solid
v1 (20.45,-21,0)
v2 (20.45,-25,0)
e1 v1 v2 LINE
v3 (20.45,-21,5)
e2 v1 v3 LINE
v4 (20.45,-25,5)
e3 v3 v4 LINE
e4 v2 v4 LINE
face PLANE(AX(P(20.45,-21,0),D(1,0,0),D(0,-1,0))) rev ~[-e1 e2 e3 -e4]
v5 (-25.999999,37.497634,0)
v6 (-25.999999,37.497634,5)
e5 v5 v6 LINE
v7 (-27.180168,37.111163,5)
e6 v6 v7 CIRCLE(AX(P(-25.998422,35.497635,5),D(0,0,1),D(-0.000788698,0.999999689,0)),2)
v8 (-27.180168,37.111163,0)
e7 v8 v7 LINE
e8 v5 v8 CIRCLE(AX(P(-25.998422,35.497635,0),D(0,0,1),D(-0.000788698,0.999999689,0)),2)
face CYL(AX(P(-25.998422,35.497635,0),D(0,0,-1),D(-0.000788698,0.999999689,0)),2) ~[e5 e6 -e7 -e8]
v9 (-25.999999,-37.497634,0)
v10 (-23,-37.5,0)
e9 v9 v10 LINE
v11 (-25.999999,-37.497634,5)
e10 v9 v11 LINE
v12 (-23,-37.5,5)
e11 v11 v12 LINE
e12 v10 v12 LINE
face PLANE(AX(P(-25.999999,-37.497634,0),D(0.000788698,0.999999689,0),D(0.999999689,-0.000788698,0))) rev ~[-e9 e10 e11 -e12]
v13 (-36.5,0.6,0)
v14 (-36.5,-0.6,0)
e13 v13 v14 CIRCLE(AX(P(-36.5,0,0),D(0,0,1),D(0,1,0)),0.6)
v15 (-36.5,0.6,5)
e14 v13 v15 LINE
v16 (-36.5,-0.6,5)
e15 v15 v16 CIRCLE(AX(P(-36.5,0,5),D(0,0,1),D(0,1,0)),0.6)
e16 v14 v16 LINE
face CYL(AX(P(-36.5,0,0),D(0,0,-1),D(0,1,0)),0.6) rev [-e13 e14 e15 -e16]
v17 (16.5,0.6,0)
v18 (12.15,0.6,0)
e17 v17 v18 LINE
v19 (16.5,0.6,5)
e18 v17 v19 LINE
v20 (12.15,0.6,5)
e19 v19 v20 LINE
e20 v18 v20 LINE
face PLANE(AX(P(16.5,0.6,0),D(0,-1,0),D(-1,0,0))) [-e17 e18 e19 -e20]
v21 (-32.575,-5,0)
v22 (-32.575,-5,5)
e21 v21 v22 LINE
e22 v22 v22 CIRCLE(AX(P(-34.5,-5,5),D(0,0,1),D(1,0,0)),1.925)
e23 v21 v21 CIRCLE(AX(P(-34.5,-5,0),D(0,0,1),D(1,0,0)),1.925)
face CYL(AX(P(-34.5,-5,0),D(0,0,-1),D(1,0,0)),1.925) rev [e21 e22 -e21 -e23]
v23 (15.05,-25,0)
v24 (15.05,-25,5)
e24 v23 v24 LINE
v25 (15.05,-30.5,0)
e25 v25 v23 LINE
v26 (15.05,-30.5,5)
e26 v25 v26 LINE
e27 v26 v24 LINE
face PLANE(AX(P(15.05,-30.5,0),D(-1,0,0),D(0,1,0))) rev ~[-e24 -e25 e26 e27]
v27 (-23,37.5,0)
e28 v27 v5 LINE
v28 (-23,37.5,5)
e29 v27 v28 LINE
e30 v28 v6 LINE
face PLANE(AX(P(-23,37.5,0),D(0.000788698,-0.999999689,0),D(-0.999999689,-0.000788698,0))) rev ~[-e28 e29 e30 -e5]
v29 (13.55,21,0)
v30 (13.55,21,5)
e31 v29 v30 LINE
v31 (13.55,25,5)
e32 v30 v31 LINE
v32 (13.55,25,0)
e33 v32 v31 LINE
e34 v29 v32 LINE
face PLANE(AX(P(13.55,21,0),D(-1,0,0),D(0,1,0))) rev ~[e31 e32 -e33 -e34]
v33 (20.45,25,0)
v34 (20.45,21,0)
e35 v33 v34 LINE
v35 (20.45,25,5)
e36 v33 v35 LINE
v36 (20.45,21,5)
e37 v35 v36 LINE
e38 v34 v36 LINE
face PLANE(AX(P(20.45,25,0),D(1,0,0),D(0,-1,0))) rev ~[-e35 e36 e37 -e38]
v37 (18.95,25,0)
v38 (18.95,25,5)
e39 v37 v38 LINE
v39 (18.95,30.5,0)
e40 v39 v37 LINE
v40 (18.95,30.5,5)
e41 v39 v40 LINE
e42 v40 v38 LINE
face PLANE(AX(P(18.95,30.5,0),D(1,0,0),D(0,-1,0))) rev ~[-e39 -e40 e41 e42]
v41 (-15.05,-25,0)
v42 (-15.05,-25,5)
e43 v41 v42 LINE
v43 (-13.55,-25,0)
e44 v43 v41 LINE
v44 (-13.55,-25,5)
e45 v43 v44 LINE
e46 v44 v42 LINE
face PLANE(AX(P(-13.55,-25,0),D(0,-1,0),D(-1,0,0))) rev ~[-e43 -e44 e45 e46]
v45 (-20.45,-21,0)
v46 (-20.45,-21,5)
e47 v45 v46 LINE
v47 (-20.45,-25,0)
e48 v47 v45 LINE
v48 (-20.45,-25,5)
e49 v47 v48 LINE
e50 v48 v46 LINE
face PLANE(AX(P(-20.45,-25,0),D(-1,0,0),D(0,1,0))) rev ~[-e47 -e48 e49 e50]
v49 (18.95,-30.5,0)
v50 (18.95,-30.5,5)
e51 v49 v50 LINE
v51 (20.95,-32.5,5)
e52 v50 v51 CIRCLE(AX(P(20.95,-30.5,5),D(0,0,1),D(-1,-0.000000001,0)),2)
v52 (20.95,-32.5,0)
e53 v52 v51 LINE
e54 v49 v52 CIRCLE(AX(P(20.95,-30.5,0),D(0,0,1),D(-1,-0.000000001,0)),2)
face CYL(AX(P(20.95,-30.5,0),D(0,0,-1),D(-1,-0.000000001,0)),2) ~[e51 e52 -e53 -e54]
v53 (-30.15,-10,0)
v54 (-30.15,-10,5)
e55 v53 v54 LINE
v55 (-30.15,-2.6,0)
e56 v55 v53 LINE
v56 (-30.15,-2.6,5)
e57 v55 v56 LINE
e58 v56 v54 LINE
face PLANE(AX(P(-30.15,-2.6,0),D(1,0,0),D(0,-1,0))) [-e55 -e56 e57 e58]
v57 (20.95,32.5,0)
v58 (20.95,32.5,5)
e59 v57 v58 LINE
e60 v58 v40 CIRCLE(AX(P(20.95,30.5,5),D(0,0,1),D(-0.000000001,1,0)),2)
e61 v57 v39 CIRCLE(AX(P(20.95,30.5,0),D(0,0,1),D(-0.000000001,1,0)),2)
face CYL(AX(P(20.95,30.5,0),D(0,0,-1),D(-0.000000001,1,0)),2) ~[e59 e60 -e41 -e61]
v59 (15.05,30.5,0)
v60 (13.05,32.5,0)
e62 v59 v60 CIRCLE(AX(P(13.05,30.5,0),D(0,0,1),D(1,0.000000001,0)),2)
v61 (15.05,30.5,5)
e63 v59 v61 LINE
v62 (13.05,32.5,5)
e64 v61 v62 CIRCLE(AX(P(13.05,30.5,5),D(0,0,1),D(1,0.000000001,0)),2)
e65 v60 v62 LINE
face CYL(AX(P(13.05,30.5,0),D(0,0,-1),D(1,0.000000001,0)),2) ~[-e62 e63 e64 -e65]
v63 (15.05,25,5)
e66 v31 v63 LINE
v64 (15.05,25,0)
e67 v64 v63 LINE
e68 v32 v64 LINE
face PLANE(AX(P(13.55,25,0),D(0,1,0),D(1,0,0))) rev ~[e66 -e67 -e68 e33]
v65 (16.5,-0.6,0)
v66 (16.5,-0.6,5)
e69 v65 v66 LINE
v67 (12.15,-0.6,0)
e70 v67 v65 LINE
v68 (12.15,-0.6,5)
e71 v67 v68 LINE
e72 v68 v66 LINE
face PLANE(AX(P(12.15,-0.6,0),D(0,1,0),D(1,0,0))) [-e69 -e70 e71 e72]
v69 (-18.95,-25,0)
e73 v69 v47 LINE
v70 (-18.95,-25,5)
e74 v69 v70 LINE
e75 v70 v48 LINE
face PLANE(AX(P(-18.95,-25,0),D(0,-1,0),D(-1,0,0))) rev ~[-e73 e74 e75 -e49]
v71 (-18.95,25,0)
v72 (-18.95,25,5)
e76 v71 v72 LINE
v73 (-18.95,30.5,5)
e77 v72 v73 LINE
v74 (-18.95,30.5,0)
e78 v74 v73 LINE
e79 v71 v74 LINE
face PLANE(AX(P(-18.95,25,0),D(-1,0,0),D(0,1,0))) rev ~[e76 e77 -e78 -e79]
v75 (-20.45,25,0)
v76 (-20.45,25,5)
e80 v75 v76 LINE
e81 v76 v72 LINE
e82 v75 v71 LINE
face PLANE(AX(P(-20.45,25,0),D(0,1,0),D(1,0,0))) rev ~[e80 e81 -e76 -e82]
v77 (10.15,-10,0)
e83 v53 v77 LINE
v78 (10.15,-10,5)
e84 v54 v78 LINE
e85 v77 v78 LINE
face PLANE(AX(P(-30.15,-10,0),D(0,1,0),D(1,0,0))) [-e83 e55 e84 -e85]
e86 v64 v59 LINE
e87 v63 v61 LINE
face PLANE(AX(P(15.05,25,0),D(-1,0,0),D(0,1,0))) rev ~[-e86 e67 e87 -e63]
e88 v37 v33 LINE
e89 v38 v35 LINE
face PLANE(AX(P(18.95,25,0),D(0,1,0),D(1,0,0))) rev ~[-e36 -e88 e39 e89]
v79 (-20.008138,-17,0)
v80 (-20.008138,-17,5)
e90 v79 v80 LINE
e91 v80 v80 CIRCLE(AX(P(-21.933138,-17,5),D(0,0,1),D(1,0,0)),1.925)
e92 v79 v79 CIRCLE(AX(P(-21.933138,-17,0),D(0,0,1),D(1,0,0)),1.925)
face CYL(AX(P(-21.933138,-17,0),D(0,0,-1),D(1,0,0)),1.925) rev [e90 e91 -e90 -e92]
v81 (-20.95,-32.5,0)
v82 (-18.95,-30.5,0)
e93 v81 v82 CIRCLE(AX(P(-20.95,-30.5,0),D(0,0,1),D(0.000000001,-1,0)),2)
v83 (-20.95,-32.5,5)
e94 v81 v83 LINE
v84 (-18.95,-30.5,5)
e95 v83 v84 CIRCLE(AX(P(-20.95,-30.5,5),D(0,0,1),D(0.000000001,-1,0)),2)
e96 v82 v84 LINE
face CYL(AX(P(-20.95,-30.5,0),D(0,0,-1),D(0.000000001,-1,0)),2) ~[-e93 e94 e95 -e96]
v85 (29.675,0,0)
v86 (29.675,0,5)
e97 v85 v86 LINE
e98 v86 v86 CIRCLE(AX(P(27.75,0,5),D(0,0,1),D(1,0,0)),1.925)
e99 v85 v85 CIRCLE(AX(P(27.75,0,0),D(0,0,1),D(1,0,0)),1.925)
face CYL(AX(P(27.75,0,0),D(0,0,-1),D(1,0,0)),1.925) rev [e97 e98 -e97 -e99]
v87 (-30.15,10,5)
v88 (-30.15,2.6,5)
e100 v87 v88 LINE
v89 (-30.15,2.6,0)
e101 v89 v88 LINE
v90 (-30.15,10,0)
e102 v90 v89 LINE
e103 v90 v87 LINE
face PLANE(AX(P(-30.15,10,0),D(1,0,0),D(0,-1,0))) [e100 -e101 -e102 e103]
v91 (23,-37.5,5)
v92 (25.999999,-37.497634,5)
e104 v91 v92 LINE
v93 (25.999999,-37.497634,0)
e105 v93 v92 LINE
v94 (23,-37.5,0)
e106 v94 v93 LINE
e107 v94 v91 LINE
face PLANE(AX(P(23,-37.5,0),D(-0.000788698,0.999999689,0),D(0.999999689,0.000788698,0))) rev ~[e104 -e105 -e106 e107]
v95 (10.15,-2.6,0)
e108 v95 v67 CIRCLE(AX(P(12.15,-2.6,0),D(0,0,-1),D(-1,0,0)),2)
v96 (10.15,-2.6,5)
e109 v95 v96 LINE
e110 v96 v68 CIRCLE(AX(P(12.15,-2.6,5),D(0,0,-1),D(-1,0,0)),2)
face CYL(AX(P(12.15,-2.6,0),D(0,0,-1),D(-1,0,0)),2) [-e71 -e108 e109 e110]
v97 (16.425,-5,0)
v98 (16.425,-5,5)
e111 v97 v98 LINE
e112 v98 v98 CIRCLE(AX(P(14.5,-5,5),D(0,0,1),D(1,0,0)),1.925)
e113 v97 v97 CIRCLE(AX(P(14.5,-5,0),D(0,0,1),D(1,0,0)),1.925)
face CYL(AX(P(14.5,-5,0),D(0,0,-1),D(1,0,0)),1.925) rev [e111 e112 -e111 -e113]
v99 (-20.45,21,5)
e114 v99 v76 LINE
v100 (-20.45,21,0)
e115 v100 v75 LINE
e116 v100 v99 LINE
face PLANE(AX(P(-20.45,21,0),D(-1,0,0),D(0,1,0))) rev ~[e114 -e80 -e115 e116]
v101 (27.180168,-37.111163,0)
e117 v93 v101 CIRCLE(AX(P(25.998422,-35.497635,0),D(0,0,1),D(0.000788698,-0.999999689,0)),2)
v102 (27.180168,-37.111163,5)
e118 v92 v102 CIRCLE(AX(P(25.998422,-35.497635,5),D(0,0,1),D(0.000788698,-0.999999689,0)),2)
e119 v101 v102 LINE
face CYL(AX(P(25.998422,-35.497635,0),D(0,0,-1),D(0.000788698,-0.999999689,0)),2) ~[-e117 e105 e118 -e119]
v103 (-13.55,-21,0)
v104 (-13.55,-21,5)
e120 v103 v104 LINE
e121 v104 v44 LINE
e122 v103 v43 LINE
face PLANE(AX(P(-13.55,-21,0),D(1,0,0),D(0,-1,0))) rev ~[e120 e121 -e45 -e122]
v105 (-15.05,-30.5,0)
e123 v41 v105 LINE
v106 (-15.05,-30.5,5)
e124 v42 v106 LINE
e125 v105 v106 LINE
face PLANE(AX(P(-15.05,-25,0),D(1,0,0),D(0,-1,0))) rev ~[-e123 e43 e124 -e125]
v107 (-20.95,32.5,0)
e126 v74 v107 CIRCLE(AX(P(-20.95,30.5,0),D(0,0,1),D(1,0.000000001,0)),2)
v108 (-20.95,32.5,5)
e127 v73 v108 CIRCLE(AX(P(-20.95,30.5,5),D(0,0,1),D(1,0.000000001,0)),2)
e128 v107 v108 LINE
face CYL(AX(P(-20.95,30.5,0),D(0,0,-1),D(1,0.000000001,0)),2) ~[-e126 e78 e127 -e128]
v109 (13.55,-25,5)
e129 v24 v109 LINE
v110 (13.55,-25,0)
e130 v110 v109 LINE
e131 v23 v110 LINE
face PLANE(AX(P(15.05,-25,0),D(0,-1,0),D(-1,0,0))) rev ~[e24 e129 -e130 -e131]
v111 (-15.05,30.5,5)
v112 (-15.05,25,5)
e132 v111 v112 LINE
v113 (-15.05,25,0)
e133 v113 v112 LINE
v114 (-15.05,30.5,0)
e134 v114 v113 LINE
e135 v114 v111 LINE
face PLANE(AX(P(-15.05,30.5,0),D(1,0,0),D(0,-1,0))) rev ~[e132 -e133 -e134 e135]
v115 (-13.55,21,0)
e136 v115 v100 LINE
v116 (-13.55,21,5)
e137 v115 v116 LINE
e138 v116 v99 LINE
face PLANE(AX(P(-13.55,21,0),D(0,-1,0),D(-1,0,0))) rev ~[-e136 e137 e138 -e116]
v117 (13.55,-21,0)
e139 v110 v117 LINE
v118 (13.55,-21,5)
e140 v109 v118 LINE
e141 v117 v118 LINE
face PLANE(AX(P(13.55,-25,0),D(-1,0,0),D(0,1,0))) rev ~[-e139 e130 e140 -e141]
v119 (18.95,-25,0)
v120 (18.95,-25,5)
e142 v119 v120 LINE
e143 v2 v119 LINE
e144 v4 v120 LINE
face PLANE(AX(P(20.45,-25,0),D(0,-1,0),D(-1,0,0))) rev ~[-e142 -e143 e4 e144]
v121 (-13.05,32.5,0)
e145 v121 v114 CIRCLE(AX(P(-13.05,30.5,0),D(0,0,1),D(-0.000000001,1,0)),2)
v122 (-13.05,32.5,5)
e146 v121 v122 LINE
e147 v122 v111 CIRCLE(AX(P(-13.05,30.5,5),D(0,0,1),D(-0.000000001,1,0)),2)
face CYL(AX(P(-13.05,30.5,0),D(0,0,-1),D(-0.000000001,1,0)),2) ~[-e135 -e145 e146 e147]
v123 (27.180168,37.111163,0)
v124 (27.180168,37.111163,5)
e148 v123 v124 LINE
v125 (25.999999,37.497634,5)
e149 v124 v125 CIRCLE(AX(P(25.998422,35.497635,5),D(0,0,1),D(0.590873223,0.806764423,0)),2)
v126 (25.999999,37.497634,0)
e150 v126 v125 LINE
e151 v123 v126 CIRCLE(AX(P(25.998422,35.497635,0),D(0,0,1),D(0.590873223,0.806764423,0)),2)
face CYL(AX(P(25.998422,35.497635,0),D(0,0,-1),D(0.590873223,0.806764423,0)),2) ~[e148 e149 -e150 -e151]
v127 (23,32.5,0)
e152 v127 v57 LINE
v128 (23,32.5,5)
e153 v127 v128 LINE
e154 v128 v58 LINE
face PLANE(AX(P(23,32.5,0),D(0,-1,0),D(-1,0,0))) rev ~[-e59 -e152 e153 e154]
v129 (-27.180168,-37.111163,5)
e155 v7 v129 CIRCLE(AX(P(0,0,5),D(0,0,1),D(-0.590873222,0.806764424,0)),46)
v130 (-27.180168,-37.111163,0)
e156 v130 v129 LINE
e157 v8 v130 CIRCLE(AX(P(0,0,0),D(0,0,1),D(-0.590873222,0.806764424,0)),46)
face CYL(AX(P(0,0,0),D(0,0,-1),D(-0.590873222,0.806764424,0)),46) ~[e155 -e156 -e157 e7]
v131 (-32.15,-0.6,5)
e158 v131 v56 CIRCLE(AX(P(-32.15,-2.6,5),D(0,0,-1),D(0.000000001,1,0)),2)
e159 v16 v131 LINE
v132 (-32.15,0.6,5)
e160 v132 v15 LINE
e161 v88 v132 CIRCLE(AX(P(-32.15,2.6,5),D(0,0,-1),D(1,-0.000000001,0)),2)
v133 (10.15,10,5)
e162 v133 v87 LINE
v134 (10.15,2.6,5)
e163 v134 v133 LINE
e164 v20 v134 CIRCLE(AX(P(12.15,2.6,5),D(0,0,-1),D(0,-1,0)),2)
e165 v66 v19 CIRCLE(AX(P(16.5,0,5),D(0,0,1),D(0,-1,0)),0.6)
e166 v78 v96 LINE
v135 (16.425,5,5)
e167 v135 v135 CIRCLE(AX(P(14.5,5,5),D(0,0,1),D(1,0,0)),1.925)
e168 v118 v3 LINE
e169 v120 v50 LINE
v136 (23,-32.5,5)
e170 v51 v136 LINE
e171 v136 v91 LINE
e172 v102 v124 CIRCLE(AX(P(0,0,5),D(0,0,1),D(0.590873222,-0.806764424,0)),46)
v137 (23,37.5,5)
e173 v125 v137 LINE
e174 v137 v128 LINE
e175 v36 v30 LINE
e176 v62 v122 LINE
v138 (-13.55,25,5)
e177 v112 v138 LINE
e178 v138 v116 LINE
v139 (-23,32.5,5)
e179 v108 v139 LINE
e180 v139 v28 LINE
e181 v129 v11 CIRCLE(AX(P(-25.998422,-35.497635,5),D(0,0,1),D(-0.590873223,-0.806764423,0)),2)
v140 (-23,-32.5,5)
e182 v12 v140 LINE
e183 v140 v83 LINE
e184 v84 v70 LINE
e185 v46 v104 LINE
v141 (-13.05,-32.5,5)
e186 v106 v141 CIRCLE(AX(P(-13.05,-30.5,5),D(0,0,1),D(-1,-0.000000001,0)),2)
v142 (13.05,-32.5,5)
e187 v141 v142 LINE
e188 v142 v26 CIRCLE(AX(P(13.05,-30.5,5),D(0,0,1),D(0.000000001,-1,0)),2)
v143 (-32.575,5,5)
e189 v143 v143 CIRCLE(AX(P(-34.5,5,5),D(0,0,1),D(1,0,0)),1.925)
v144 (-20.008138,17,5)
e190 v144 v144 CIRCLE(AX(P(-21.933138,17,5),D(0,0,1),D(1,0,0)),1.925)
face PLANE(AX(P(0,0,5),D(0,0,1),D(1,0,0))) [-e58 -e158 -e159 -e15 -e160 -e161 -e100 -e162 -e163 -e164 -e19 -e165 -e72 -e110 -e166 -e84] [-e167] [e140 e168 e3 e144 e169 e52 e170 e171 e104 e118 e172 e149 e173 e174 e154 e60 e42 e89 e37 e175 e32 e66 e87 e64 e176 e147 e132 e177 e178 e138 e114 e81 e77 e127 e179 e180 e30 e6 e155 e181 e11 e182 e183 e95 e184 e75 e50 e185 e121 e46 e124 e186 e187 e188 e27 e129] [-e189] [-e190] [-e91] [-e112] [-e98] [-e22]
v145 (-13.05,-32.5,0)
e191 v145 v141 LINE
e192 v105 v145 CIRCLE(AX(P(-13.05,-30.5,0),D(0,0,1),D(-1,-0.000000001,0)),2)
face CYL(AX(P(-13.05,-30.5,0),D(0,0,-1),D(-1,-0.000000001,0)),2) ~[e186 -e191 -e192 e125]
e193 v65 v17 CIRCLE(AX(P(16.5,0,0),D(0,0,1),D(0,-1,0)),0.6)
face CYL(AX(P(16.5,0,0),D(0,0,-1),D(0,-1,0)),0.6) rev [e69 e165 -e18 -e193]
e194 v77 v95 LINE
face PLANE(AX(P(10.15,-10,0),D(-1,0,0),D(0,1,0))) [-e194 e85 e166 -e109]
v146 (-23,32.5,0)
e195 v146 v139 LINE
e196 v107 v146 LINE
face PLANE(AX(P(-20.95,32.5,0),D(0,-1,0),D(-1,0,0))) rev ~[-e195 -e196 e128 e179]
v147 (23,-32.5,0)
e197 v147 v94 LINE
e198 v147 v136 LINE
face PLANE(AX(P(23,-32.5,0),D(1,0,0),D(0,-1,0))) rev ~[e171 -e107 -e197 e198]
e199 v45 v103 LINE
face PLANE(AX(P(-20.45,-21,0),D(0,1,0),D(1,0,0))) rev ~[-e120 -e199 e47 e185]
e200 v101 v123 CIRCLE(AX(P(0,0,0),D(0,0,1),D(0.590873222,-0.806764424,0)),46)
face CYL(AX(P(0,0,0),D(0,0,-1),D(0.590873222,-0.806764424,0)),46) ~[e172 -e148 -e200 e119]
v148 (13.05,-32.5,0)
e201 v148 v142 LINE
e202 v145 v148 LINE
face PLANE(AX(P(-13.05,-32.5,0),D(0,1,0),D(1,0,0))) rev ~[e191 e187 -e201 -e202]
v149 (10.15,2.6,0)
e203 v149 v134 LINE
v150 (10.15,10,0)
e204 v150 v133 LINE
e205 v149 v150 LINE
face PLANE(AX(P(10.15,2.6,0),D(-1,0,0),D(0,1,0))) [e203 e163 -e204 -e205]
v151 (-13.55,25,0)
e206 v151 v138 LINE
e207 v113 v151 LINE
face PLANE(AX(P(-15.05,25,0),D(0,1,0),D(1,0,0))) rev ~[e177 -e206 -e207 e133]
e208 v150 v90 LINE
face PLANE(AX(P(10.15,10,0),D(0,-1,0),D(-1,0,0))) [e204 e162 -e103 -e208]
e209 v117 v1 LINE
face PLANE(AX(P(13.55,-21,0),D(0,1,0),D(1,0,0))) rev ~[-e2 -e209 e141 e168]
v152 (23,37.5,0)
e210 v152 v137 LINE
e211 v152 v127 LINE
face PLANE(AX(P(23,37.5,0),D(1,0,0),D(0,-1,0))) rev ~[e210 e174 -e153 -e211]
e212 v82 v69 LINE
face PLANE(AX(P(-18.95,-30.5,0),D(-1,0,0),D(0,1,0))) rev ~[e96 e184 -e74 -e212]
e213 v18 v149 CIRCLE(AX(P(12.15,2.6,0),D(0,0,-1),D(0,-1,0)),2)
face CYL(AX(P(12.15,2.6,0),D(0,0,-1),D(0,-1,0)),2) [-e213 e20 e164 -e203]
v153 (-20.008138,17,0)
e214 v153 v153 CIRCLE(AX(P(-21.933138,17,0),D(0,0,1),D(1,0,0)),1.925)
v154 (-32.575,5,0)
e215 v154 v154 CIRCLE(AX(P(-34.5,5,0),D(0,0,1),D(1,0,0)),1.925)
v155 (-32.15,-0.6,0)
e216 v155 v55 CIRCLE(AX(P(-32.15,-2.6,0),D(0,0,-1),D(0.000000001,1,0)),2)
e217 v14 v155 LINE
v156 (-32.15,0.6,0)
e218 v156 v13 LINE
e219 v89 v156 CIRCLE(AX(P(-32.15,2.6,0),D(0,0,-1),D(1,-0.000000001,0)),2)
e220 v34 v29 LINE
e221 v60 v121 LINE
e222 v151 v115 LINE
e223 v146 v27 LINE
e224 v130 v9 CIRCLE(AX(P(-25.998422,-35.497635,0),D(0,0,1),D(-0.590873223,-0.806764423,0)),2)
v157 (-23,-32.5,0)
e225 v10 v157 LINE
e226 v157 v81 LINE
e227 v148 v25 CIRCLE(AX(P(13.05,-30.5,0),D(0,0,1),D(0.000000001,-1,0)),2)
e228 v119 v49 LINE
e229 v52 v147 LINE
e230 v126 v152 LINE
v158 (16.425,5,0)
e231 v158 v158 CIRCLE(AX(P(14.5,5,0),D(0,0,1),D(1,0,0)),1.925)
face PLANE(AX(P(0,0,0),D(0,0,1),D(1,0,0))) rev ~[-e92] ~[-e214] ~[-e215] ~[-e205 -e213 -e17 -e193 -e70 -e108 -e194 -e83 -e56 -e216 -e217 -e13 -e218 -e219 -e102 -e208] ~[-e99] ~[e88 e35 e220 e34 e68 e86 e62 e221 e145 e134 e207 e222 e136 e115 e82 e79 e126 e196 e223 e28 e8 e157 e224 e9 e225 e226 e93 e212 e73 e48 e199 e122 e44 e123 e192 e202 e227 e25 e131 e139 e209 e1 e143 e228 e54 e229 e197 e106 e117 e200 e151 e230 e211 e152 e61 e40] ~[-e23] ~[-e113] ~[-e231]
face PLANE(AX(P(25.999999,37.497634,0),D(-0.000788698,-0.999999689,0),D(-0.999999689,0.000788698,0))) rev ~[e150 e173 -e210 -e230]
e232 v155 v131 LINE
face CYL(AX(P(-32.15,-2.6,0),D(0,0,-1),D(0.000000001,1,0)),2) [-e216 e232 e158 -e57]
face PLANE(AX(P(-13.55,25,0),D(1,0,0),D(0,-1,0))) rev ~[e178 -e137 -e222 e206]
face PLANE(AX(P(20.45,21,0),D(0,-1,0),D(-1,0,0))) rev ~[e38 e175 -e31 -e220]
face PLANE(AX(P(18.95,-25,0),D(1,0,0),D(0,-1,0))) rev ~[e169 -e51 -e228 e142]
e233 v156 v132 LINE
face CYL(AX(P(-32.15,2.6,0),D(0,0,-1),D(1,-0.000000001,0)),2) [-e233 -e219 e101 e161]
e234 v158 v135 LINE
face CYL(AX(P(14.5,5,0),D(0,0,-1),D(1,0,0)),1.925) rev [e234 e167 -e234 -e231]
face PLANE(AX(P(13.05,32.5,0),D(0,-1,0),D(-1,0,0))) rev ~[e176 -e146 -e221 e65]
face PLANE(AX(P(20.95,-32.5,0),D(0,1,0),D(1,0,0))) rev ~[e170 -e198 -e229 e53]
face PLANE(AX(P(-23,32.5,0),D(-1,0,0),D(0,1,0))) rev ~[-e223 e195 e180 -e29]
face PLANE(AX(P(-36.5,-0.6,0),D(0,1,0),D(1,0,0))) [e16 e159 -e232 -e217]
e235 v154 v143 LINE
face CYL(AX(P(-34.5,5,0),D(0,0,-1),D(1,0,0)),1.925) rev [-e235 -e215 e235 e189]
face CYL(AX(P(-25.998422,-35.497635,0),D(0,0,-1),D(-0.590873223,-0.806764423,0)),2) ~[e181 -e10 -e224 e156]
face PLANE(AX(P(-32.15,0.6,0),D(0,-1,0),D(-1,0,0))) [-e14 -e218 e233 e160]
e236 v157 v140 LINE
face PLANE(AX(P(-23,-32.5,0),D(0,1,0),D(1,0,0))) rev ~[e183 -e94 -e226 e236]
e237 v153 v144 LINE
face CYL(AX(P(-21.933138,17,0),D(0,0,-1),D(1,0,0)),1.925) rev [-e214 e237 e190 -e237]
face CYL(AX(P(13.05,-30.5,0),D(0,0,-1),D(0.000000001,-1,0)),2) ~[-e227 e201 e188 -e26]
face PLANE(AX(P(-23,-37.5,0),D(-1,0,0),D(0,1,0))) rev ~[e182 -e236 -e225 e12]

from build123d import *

# Parameters (mm, degrees)
ESQUISSE1_R        = 1.925
BOSS_EXTRU_1_DEPTH = 5


with BuildPart() as part:
    # Esquisse1 → Boss.-Extru.1 (new body)
    with BuildSketch(Plane.XY):
        with BuildLine():
            Line((13.05, 32.5), (-13.05, 32.5))
            ThreePointArc((-13.05, 32.5), (-14.464213562, 31.914213562), (-15.05, 30.5))
            Line((-15.05, 30.5), (-15.05, 25))
            Line((-15.05, 25), (-13.55, 25))
            Line((-13.55, 25), (-13.55, 21))
            Line((-13.55, 21), (-20.45, 21))
            Line((-20.45, 21), (-20.45, 25))
            Line((-20.45, 25), (-18.95, 25))
            Line((-18.95, 25), (-18.95, 30.5))
            ThreePointArc((-18.95, 30.5), (-19.535786438, 31.914213562), (-20.95, 32.5))
            Line((-20.95, 32.5), (-23, 32.5))
            Line((-23, 32.5), (-23, 37.5))
            Line((-23, 37.5), (-25.999999067, 37.497633905))
            ThreePointArc((-25.999999067, 37.497633905), (-26.620839292, 37.398317642), (-27.180168114, 37.111163374))
            ThreePointArc((-27.180168114, 37.111163374), (-45.999999844, 0), (-27.180168114, -37.111163374))
            ThreePointArc((-27.180168114, -37.111163374), (-26.620839292, -37.398317642), (-25.999999067, -37.497633905))
            Line((-25.999999067, -37.497633905), (-23, -37.5))
            Line((-23, -37.5), (-23, -32.5))
            Line((-23, -32.5), (-20.95, -32.5))
            ThreePointArc((-20.95, -32.5), (-19.535786438, -31.914213562), (-18.95, -30.5))
            Line((-18.95, -30.5), (-18.95, -25))
            Line((-18.95, -25), (-20.45, -25))
            Line((-20.45, -25), (-20.45, -21))
            Line((-20.45, -21), (-13.55, -21))
            Line((-13.55, -21), (-13.55, -25))
            Line((-13.55, -25), (-15.05, -25))
            Line((-15.05, -25), (-15.05, -30.5))
            ThreePointArc((-15.05, -30.5), (-14.464213562, -31.914213562), (-13.05, -32.5))
            Line((-13.05, -32.5), (13.05, -32.5))
            ThreePointArc((13.05, -32.5), (14.464213562, -31.914213562), (15.05, -30.5))
            Line((15.05, -30.5), (15.05, -25))
            Line((15.05, -25), (13.55, -25))
            Line((13.55, -25), (13.55, -21))
            Line((13.55, -21), (20.45, -21))
            Line((20.45, -21), (20.45, -25))
            Line((20.45, -25), (18.95, -25))
            Line((18.95, -25), (18.95, -30.5))
            ThreePointArc((18.95, -30.5), (19.535786438, -31.914213562), (20.95, -32.5))
            Line((20.95, -32.5), (23, -32.5))
            Line((23, -32.5), (23, -37.5))
            Line((23, -37.5), (25.999999067, -37.497633905))
            ThreePointArc((25.999999067, -37.497633905), (26.620839292, -37.398317642), (27.180168114, -37.111163374))
            ThreePointArc((27.180168114, -37.111163374), (45.999999844, 0), (27.180168114, 37.111163374))
            ThreePointArc((27.180168114, 37.111163374), (26.620839292, 37.398317642), (25.999999067, 37.497633905))
            Line((25.999999067, 37.497633905), (23, 37.5))
            Line((23, 37.5), (23, 32.5))
            Line((23, 32.5), (20.95, 32.5))
            ThreePointArc((20.95, 32.5), (19.535786438, 31.914213562), (18.95, 30.5))
            Line((18.95, 30.5), (18.95, 25))
            Line((18.95, 25), (20.45, 25))
            Line((20.45, 25), (20.45, 21))
            Line((20.45, 21), (13.55, 21))
            Line((13.55, 21), (13.55, 25))
            Line((13.55, 25), (15.05, 25))
            Line((15.05, 25), (15.05, 30.5))
            ThreePointArc((15.05, 30.5), (14.464213562, 31.914213562), (13.05, 32.5))
        make_face()
        with Locations((27.75, 0)):
            Circle(ESQUISSE1_R, mode=Mode.SUBTRACT)
        with Locations((-21.933137835, -17)):
            Circle(ESQUISSE1_R, mode=Mode.SUBTRACT)
        with Locations((-21.933137835, 17)):
            Circle(ESQUISSE1_R, mode=Mode.SUBTRACT)
        with Locations((14.500000149, -5)):
            Circle(ESQUISSE1_R, mode=Mode.SUBTRACT)
        with Locations((14.500000149, 5)):
            Circle(ESQUISSE1_R, mode=Mode.SUBTRACT)
        with Locations((-34.499999851, -5)):
            Circle(ESQUISSE1_R, mode=Mode.SUBTRACT)
        with Locations((-34.499999851, 5)):
            Circle(ESQUISSE1_R, mode=Mode.SUBTRACT)
        with BuildLine():
            Line((10.150000149, -10), (10.150000149, -2.6))
            ThreePointArc((10.150000149, -2.6), (10.735786586, -1.185786438), (12.150000149, -0.6))
            Line((12.150000149, -0.6), (16.500000149, -0.6))
            ThreePointArc((16.500000149, -0.6), (17.100000149, 0), (16.500000149, 0.6))
            Line((16.500000149, 0.6), (12.150000149, 0.6))
            ThreePointArc((12.150000149, 0.6), (10.735786586, 1.185786438), (10.150000149, 2.6))
            Line((10.150000149, 2.6), (10.150000149, 10))
            Line((10.150000149, 10), (-30.149999851, 10))
            Line((-30.149999851, 10), (-30.149999851, 2.6))
            ThreePointArc((-30.149999851, 2.6), (-30.735786289, 1.185786438), (-32.149999851, 0.6))
            Line((-32.149999851, 0.6), (-36.499999851, 0.6))
            ThreePointArc((-36.499999851, 0.6), (-37.099999851, 0), (-36.499999851, -0.6))
            Line((-36.499999851, -0.6), (-32.149999851, -0.6))
            ThreePointArc((-32.149999851, -0.6), (-30.735786289, -1.185786438), (-30.149999851, -2.6))
            Line((-30.149999851, -2.6), (-30.149999851, -10))
            Line((-30.149999851, -10), (10.150000149, -10))
        make_face(mode=Mode.SUBTRACT)
    extrude(amount=BOSS_EXTRU_1_DEPTH)


solid = part.part
